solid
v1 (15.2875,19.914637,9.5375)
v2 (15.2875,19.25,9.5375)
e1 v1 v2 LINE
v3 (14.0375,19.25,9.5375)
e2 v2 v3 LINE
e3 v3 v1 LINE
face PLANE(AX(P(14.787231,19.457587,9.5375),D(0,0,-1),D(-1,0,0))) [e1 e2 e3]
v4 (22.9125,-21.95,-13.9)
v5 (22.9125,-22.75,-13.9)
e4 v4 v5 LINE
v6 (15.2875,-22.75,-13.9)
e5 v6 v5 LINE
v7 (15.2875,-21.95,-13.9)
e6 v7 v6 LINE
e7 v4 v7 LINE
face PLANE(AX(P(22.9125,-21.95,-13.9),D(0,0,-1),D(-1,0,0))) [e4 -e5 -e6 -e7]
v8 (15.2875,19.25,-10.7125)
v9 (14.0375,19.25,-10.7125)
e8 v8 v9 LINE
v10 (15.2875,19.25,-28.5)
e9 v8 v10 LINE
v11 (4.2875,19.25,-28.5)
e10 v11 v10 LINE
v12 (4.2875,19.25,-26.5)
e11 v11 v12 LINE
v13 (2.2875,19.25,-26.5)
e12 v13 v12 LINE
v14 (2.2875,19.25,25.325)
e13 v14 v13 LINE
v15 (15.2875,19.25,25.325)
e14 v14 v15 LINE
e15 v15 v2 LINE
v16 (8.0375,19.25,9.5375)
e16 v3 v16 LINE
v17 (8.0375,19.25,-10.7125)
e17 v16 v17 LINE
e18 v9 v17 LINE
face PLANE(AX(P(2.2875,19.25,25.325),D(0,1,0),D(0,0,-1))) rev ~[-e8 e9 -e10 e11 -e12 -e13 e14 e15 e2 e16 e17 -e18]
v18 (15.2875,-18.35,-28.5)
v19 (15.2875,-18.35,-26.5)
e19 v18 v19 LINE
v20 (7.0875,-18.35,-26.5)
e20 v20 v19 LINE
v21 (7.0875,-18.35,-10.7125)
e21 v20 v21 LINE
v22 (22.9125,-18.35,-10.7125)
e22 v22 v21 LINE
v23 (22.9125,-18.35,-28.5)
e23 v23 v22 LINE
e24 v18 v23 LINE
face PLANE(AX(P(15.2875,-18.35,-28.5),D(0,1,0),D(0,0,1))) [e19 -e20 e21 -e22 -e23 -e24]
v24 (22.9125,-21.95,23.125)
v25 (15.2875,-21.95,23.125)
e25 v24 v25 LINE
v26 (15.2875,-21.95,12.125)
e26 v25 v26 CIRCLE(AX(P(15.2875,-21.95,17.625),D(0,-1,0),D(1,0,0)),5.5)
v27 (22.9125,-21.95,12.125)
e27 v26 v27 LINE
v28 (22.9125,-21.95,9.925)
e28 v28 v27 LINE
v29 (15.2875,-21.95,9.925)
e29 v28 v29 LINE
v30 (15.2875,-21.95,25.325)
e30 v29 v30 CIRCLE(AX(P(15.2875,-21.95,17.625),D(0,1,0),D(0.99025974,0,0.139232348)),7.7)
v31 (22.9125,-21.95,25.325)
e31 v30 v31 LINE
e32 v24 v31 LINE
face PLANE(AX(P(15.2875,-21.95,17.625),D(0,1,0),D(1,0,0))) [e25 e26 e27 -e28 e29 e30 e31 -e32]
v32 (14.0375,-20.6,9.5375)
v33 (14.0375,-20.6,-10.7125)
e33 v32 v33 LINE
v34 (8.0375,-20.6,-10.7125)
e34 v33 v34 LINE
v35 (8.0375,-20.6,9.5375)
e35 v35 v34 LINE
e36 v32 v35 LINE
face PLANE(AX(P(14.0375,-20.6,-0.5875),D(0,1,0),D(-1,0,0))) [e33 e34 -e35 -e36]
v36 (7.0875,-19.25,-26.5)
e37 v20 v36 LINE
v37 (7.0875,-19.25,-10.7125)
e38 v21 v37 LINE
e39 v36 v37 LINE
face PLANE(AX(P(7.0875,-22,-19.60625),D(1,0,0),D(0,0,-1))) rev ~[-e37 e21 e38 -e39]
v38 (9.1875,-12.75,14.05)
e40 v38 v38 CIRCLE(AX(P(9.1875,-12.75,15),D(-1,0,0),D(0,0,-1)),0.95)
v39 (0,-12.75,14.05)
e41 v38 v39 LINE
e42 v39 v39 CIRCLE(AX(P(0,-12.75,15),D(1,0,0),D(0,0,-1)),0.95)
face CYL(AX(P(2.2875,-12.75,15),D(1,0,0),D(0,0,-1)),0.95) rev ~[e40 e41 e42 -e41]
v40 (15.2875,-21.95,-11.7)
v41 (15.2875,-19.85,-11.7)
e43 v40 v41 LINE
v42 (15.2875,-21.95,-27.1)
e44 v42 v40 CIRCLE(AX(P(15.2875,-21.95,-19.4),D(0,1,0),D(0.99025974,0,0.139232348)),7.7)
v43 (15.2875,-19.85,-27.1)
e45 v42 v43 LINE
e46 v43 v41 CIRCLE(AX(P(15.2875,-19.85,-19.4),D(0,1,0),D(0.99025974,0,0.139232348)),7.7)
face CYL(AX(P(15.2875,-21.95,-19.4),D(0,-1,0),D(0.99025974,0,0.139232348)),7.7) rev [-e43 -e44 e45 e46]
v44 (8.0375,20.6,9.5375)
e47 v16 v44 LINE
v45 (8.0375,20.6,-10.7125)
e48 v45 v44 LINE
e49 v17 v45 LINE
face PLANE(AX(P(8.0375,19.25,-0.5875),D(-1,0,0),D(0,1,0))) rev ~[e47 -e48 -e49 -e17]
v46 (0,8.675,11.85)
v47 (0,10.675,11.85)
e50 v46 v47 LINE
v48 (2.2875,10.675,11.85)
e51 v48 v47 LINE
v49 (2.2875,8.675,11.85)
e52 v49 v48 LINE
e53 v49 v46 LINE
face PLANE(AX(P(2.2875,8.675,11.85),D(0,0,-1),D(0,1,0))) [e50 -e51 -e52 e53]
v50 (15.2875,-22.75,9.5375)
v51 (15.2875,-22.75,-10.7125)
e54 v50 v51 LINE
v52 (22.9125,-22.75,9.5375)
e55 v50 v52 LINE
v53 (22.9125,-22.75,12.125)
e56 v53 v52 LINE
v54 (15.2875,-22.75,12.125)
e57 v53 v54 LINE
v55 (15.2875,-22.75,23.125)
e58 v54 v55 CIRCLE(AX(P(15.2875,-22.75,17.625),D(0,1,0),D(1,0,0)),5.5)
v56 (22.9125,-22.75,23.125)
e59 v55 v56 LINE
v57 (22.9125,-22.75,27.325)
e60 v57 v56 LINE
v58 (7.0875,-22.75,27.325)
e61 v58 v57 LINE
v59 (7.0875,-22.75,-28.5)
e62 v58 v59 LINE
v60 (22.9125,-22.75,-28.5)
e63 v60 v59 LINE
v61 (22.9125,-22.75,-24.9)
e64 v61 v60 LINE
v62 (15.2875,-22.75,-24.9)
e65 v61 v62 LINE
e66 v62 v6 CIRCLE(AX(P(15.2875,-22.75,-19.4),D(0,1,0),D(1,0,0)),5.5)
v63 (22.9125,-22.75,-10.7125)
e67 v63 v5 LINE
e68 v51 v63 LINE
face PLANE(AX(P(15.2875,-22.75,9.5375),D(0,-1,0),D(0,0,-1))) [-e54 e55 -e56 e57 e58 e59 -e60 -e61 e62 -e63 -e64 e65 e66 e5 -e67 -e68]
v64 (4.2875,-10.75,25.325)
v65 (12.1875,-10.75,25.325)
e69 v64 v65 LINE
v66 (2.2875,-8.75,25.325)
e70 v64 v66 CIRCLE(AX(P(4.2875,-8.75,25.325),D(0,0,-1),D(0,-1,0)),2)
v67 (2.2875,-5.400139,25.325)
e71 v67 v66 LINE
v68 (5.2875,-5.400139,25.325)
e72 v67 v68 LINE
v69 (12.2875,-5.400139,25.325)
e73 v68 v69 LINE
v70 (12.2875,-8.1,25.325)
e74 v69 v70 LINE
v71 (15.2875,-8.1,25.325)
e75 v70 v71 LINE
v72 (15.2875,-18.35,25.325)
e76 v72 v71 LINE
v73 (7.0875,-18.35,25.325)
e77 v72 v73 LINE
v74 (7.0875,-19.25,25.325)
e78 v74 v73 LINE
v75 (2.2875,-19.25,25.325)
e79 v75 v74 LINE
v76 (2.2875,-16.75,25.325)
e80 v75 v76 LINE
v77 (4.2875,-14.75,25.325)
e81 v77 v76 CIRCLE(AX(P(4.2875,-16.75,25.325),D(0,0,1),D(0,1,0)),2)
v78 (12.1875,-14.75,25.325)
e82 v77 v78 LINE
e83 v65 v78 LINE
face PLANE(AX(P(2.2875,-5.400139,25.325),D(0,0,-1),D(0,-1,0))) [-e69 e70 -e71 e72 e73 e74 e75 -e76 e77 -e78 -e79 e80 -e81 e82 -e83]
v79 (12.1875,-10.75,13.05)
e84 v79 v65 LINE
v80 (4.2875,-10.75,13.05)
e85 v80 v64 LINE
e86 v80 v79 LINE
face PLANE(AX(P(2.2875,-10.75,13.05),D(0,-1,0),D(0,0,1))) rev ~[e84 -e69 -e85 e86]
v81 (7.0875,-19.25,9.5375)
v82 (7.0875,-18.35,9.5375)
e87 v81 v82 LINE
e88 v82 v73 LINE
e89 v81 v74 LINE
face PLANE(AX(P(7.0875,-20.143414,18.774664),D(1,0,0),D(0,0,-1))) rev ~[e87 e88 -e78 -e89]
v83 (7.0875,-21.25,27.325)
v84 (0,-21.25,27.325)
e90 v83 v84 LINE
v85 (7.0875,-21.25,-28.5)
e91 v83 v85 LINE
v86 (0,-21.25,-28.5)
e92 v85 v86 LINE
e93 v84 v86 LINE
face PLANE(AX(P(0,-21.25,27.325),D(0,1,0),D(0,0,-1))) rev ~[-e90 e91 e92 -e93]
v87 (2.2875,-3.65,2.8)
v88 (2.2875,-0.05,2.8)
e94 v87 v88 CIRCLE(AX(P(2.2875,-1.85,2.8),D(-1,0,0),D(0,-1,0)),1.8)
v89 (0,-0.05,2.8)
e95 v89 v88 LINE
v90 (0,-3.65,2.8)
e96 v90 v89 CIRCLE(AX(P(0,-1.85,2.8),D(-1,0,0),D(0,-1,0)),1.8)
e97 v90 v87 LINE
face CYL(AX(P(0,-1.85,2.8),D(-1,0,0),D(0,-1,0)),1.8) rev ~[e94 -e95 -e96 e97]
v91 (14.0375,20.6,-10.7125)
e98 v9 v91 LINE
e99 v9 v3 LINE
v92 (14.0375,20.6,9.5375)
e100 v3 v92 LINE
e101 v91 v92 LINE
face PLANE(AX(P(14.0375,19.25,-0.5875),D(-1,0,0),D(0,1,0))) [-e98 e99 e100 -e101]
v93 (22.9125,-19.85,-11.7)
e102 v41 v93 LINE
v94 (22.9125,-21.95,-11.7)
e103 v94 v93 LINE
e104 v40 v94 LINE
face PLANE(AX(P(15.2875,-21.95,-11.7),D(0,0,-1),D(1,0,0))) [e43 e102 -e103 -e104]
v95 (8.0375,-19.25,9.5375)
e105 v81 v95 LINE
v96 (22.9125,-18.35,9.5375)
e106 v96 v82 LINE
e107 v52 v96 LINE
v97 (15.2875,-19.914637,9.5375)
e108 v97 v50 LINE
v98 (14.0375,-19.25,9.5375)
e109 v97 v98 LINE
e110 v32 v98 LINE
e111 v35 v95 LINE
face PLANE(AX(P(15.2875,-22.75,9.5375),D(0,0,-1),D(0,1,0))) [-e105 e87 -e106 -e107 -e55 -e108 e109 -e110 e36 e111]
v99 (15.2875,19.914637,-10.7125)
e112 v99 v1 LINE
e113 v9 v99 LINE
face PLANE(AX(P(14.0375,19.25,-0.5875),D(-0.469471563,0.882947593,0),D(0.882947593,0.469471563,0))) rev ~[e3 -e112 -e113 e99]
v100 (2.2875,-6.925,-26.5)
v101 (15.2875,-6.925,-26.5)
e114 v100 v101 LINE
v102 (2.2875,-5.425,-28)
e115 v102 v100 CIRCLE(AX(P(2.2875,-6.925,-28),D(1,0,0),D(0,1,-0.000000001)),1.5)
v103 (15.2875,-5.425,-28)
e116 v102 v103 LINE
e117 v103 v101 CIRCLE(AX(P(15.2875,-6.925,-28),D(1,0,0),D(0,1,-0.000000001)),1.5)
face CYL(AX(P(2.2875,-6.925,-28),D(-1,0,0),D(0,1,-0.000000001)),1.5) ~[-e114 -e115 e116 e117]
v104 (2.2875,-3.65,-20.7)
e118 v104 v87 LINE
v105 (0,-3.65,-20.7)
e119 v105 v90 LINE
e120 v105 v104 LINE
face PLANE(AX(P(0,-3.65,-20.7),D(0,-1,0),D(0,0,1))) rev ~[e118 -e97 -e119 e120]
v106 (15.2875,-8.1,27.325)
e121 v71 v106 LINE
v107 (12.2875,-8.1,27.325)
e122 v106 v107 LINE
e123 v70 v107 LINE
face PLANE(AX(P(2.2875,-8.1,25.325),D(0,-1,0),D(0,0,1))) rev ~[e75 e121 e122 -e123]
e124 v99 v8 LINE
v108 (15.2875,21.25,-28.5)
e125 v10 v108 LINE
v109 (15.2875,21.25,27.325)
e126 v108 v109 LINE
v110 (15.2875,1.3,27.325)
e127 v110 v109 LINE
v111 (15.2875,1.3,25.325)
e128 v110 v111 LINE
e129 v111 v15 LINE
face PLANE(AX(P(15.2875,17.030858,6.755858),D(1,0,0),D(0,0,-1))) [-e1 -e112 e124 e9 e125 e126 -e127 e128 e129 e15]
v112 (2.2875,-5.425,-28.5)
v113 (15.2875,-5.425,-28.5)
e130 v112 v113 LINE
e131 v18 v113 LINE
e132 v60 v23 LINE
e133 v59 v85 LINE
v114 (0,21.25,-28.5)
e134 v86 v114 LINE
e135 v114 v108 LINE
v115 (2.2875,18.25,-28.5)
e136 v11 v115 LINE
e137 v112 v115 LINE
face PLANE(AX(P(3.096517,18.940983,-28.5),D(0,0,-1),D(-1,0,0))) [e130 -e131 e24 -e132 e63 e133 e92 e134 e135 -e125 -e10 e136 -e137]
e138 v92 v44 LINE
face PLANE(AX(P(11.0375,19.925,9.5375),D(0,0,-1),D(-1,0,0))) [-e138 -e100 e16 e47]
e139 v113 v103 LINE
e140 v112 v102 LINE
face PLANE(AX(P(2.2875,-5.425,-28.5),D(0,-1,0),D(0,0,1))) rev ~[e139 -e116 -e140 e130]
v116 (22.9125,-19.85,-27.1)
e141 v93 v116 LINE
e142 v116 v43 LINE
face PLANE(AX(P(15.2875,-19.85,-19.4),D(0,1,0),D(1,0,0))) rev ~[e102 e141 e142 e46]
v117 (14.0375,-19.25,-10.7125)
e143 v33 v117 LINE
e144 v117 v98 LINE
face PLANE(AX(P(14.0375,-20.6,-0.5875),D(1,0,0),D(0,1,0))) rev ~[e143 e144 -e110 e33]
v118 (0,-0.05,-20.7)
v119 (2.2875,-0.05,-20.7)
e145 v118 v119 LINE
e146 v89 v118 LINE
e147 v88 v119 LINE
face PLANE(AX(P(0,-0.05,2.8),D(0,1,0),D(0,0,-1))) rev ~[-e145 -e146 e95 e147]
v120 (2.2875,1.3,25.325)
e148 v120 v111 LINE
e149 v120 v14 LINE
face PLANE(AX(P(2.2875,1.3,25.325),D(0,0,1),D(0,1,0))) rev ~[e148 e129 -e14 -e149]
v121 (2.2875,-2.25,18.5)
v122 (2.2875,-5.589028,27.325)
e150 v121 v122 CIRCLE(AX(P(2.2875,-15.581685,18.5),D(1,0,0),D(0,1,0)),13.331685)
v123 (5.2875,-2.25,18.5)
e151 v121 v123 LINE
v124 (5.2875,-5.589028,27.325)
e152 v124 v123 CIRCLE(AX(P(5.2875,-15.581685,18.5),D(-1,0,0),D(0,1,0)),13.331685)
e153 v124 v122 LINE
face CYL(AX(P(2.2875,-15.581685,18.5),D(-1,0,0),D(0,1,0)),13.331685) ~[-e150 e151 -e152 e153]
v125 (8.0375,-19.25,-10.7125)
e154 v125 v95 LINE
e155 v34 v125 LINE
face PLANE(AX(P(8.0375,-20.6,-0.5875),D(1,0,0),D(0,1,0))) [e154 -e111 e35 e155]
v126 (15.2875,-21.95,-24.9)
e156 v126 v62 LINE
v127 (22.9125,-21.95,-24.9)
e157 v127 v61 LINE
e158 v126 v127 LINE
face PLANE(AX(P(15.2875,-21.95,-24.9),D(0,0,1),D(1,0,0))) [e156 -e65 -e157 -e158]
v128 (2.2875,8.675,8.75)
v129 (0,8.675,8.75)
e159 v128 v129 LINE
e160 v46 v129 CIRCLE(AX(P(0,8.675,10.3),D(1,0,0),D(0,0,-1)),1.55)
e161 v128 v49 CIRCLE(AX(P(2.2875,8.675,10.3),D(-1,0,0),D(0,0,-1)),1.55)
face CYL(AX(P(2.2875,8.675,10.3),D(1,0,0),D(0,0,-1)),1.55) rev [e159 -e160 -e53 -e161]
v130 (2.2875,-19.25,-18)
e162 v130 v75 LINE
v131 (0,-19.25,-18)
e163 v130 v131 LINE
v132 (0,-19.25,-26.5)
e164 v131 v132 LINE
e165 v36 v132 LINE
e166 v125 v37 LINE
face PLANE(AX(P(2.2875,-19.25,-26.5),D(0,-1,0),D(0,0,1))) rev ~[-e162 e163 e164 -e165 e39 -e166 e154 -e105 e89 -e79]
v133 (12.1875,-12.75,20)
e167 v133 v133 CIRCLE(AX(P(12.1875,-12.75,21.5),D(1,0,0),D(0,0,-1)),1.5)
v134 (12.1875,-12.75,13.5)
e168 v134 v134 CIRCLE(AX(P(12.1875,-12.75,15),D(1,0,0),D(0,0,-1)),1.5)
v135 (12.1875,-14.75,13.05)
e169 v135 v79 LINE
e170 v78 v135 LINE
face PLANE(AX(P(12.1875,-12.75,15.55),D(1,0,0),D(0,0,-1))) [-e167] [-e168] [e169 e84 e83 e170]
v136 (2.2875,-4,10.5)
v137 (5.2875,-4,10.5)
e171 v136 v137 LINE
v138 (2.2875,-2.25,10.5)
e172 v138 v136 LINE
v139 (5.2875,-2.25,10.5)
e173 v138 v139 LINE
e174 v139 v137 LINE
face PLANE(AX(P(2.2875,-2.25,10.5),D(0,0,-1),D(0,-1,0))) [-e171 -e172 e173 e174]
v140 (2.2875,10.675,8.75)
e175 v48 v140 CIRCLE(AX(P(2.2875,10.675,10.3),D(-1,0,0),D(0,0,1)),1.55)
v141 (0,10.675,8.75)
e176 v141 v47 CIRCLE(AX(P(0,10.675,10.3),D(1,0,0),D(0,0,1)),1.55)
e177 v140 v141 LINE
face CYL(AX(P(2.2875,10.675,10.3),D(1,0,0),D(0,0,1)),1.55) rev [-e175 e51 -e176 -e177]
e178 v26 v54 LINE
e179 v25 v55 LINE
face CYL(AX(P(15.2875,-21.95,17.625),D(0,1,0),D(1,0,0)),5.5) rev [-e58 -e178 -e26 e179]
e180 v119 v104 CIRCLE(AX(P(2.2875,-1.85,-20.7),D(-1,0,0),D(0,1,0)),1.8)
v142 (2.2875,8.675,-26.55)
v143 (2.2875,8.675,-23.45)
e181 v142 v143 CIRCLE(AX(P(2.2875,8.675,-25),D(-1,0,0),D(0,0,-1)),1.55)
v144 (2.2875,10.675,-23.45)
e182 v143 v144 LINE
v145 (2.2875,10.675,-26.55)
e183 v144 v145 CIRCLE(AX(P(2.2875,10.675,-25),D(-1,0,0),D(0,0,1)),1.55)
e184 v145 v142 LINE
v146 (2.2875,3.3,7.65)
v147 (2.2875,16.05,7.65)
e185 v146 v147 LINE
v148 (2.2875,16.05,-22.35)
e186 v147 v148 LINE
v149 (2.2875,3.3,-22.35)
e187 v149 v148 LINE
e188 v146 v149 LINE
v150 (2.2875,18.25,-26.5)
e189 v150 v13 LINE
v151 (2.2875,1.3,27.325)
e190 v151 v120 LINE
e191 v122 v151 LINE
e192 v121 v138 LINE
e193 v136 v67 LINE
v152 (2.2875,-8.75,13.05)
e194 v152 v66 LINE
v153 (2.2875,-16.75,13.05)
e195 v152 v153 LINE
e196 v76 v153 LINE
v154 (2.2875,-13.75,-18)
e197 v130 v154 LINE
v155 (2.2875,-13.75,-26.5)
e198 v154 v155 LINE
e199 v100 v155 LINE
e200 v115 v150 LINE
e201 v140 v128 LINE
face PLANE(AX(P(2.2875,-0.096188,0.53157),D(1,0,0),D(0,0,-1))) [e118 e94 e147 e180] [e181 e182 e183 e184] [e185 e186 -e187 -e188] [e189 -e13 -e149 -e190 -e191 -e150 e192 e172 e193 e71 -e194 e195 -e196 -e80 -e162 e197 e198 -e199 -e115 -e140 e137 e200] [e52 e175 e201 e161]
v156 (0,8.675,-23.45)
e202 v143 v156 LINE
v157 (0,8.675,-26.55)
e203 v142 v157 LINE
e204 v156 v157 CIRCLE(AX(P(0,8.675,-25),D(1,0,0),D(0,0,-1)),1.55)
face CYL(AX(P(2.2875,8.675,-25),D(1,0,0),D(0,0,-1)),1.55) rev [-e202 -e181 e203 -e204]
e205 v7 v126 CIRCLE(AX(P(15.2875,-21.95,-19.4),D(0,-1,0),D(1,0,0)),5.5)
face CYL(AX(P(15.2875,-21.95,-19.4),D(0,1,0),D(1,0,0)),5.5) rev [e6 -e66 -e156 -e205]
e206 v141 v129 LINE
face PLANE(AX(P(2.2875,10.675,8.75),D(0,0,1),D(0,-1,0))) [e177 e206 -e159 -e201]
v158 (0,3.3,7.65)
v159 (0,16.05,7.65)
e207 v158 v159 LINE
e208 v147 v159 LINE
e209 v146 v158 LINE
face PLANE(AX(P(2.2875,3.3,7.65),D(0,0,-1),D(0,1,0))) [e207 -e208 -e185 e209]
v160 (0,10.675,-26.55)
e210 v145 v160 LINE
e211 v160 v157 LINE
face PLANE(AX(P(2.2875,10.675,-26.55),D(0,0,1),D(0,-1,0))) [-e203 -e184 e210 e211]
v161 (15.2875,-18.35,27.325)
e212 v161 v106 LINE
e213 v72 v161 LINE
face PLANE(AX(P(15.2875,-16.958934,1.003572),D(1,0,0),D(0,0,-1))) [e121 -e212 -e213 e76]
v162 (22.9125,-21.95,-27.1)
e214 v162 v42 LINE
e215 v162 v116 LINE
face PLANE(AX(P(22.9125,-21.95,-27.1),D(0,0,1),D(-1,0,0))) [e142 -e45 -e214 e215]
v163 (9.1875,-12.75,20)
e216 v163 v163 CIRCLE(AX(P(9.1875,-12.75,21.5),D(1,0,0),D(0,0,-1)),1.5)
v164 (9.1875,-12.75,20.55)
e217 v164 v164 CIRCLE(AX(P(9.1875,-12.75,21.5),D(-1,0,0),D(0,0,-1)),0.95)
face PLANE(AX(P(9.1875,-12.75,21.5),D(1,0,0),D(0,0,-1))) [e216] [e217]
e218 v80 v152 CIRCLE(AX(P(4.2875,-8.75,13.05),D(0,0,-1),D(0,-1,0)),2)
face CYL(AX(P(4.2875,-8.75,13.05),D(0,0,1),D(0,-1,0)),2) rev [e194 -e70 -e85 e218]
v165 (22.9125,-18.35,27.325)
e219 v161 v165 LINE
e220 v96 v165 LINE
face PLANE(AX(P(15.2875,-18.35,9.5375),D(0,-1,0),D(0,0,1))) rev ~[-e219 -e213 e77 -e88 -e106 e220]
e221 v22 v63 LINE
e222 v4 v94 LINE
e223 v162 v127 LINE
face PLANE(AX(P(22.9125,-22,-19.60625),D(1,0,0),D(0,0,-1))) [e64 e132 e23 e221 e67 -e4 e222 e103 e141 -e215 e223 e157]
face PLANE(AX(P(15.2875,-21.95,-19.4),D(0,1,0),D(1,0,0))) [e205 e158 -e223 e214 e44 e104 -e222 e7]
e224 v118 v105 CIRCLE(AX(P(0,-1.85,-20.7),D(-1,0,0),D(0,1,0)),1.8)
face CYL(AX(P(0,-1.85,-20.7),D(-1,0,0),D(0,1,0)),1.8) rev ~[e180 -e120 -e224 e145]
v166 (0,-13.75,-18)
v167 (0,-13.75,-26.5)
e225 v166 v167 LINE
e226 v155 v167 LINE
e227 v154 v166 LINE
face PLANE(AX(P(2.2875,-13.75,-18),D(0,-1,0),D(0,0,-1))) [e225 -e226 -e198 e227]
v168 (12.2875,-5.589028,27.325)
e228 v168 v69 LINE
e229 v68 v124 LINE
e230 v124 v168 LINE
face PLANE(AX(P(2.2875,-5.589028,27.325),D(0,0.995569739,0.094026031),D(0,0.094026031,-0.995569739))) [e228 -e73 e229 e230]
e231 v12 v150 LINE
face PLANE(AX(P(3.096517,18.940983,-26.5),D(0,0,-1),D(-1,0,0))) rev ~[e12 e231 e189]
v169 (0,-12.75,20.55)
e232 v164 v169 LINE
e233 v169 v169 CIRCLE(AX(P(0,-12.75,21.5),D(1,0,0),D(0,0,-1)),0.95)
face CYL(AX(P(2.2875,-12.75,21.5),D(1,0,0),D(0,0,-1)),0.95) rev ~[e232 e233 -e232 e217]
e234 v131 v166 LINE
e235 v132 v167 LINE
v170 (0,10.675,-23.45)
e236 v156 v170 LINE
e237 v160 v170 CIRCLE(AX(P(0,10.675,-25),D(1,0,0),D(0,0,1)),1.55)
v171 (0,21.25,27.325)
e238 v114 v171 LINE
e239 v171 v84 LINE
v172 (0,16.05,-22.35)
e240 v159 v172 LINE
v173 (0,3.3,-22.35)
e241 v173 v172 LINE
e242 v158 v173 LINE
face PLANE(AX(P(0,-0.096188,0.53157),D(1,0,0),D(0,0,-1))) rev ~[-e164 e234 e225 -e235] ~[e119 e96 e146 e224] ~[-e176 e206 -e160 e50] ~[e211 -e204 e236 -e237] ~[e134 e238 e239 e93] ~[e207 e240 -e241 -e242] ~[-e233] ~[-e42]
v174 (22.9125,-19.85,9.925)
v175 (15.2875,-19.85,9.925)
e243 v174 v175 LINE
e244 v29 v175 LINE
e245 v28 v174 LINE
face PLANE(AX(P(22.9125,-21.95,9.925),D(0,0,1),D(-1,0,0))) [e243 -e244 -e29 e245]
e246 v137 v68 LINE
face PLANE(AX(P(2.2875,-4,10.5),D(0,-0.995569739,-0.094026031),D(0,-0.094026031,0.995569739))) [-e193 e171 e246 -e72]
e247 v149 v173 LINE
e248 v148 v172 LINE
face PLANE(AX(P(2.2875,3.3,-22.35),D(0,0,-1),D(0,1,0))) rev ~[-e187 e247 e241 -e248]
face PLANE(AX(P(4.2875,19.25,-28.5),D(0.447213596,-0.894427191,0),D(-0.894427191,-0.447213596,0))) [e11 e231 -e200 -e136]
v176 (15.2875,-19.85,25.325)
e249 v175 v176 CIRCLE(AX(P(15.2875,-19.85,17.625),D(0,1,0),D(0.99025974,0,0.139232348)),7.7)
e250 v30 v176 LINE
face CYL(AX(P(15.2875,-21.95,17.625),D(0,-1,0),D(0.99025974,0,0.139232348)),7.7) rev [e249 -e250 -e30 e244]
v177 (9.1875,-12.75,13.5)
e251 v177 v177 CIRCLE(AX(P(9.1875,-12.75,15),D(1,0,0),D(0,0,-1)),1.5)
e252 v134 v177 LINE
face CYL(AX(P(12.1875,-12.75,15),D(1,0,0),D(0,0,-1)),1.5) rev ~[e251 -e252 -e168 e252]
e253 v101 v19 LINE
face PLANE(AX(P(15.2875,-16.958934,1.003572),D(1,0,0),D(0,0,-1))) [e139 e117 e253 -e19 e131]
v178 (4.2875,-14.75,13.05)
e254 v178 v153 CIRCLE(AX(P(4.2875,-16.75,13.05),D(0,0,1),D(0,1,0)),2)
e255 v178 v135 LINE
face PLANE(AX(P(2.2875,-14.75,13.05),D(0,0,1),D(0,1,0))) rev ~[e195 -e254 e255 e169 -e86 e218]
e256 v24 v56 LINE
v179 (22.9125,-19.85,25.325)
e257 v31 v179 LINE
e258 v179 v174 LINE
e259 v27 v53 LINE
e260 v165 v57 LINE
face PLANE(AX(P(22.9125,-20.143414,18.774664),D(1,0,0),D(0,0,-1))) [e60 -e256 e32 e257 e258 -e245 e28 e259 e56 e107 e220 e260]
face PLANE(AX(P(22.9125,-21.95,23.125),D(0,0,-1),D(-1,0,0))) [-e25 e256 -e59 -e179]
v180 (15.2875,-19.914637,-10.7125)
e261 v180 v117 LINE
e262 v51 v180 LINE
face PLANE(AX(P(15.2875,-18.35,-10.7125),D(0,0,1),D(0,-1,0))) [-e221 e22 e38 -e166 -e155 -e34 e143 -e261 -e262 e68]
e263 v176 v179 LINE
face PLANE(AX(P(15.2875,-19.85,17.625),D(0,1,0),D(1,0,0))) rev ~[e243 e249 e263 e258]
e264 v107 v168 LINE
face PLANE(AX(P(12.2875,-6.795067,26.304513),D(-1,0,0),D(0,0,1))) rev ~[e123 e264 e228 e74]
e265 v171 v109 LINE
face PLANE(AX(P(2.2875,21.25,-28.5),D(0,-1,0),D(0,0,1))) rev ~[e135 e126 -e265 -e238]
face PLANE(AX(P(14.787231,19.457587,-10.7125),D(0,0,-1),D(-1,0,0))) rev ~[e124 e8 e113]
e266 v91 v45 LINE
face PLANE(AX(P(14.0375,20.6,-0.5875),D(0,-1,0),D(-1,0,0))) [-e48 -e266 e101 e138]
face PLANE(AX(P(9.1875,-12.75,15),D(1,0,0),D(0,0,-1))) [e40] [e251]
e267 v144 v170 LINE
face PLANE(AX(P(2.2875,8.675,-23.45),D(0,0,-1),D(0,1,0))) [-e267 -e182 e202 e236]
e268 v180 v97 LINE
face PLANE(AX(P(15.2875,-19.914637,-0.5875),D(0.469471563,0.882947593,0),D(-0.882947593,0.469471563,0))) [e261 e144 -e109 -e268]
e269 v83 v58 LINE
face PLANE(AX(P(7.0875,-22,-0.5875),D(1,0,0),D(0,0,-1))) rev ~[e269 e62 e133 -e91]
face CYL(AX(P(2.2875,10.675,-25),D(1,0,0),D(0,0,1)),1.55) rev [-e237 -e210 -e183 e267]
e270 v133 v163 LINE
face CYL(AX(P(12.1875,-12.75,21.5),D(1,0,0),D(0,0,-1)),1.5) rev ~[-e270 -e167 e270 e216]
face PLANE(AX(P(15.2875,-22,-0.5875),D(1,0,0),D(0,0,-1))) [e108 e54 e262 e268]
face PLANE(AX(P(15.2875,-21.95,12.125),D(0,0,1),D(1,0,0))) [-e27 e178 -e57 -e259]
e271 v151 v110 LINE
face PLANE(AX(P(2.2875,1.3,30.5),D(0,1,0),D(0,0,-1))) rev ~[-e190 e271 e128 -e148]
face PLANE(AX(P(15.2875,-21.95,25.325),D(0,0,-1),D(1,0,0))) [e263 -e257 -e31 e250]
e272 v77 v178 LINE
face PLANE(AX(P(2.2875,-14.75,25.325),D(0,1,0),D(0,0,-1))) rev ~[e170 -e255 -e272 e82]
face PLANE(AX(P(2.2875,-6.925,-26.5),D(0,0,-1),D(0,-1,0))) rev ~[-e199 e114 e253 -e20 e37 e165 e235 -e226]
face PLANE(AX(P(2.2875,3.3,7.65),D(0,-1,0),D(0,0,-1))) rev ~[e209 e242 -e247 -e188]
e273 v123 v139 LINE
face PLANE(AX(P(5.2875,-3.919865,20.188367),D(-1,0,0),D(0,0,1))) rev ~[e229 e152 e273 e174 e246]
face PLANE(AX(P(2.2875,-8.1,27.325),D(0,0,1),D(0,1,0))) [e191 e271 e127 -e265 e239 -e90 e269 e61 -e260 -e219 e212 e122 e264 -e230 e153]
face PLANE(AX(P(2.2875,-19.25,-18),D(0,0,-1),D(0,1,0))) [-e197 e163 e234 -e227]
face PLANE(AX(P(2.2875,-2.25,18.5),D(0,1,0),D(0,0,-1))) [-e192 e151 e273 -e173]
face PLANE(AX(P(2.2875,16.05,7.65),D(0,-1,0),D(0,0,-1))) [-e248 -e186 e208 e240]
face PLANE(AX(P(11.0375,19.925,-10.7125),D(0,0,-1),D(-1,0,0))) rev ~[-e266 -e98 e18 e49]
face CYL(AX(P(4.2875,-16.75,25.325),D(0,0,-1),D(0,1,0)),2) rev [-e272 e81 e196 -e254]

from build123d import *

# Parameters (mm, degrees)
MAIN_EXTRUDE_DEPTH            = 2.2875
WALLS_START                   = 2.2875
WALLS_DEPTH                   = 13
CORNER_SUPPORT_DEPTH          = 2
SKETCH2_R                     = 0.95
SKETCH2_W                     = 2.4
SKETCH2_H                     = 4
SKETCH2_W_2                   = 1
SWITCH_SPACER_DEPTH           = 9.9
ARM_SUPPORT_EXTRUDE_DEPTH     = 3
ARM_SUPPORT_CURVE_DEPTH       = 40.380356778
FILLET4_R                     = 2
FILLET3_R                     = 2
SKETCH2_5_R                   = 0.95
SWITCH_MOUNT_HOLES_DEPTH      = 40.380356889
SWITCH_MOUNT_HOLES_DEPTH_BACK = 40.380356889
SKETCH35_R                    = 1.5
SWITCH_MOUNT_EXIT_HOLES_DEPTH = 3
SKETCH4_W                     = 8.5
SKETCH4_H                     = 5.5
WIRE_HOLE_DEPTH               = 40.380356889
SKETCH25_W                    = 6
SKETCH25_H                    = 1.35
FEMALE_SNAP_DEPTH             = 10.125
SKETCH5_W                     = 30
SKETCH5_H                     = 12.75
SERVO_HOLE_DEPTH              = 40.380356889
SKETCH30_W                    = 15.7875
SKETCH30_H                    = 0.9
SKETCH30_W_2                  = 17.7875
SKETCH30_H_2                  = 1.5
MAGNET_EXTRUDE_1_DEPTH        = 7.625
MAGNET_EXTRUDE_1_DEPTH_BACK   = 8.2
SKETCH30_5_W                  = 20.25
SKETCH30_5_H                  = 1.5
MAGNET_EXTRUDE_2_DEPTH        = 8.2
SKETCH29_R                    = 7.7
MAGNET_HOLE_DEPTH             = 2.1
SKETCH31_R                    = 5.5
MAGNET_THRU_HOLE_DEPTH        = 58.632218961
SKETCH39_W                    = 3.175
SKETCH39_H                    = 12.55
CUT_EXTRUDE1_DEPTH            = 45.416158798
CUT_EXTRUDE2_DEPTH            = 42.895144408
BOSS_EXTRUDE2_DEPTH           = 10


with BuildPart() as part:
    # Sketch1 → Main Extrude (new body)
    with BuildSketch(Plane(origin=(0, 0, 0), x_dir=(0, 0, -1), z_dir=(1, 0, 0))):
        Polygon((-30.5, -9.35), (-27.325, -9.35), (-27.325, -21.25), (28.5, -21.25), (28.5, 21.25), (-27.325, 21.25), (-27.325, 3.2), (-30.5, 3.2), align=None)
        with BuildLine():
            Line((20.7, -3.65), (-2.8, -3.65))
            ThreePointArc((-2.8, -3.65), (-4.6, -1.85), (-2.8, -0.05))
            Line((-2.8, -0.05), (20.7, -0.05))
            ThreePointArc((20.7, -0.05), (22.5, -1.85), (20.7, -3.65))
        make_face(mode=Mode.SUBTRACT)
    extrude(amount=MAIN_EXTRUDE_DEPTH)

    # Sketch1_3 → Walls (add)
    with BuildSketch(Plane(origin=(0, 0, 0), x_dir=(0, 0, -1), z_dir=(1, 0, 0)).offset(WALLS_START)):
        Polygon((-25.325, 19.25), (28.5, 19.25), (28.5, 21.25), (-27.325, 21.25), (-27.325, 3.2), (-30.5, 3.2), (-30.5, 1.3), (-25.325, 1.3), align=None)
        with BuildLine():
            Line((28.5, -5.425), (28, -5.425))
            ThreePointArc((28, -5.425), (26.939339828, -5.864339828), (26.5, -6.925))
            Line((26.5, -6.925), (26.5, -19.25))
            Line((26.5, -19.25), (-25.325, -19.25))
            Line((-25.325, -19.25), (-25.325, -8.1))
            Line((-25.325, -8.1), (-28.5, -8.1))
            Line((-28.5, -8.1), (-28.5, -4.45))
            Line((-28.5, -4.45), (-30.5, -4.45))
            Line((-30.5, -4.45), (-30.5, -9.35))
            Line((-30.5, -9.35), (-27.325, -9.35))
            Line((-27.325, -9.35), (-27.325, -21.25))
            Line((-27.325, -21.25), (28.5, -21.25))
            Line((28.5, -21.25), (28.5, -5.425))
        make_face()
    extrude(amount=WALLS_DEPTH)

    # Sketch22 → Corner Support (add)
    with BuildSketch(Plane(origin=(0, 0, -28.5), x_dir=(-1, 0, 0), z_dir=(0, 0, -1))):
        Polygon((-4.2875, 19.25), (-2.2875, 18.25), (-2.2875, 19.25), align=None)
    extrude(amount=-CORNER_SUPPORT_DEPTH)

    # Sketch2 → Switch Spacer (add)
    with BuildSketch(Plane(origin=(2.2875, 0, 0), x_dir=(0, 0, -1), z_dir=(1, 0, 0))):
        Polygon((-14.05, -10.75), (-17.05, -10.75), (-17.05, -14.75), (-14.05, -14.75), (-14.05, -12.75), align=None)
        with Locations((-15, -12.75)):
            Circle(SKETCH2_R, mode=Mode.SUBTRACT)
        with Locations((-15, -12.75)):
            Circle(SKETCH2_R)
        Polygon((-19.45, -10.75), (-22.45, -10.75), (-22.45, -12.75), (-22.45, -14.75), (-19.45, -14.75), align=None)
        with BuildLine():
            ThreePointArc((-20.55, -12.75), (-21.5, -13.7), (-22.45, -12.75))
            ThreePointArc((-22.45, -12.75), (-21.5, -11.8), (-20.55, -12.75))
        make_face(mode=Mode.SUBTRACT)
        with Locations((-21.5, -12.75)):
            Circle(SKETCH2_R)
        Polygon((-22.45, -12.75), (-22.45, -10.75), (-25.325, -10.75), (-25.325, -14.75), (-22.45, -14.75), align=None)
        with Locations((-18.25, -12.75)):
            Rectangle(SKETCH2_W, SKETCH2_H)
        with Locations((-13.55, -12.75)):
            Rectangle(SKETCH2_W_2, SKETCH2_H)
    extrude(amount=SWITCH_SPACER_DEPTH)

    # Sketch3 → Arm Support Extrude (add)
    with BuildSketch(Plane(origin=(2.2875, 0, 0), x_dir=(0, 0, -1), z_dir=(1, 0, 0))):
        with BuildLine():
            Line((-18.5, -2.25), (-10.5, -2.25))
            Line((-10.5, -2.25), (-10.5, -4))
            Line((-10.5, -4), (-28.5, -5.7))
            Line((-28.5, -5.7), (-30.5, -5.7))
            ThreePointArc((-30.5, -5.7), (-24.743046131, -3.129622151), (-18.5, -2.25))
        make_face()
    extrude(amount=ARM_SUPPORT_EXTRUDE_DEPTH)

    # Sketch7 → Arm Support Curve (cut, through all)
    with BuildSketch(Plane(origin=(2.2875, 0, 0), x_dir=(0, 0, -1), z_dir=(1, 0, 0))):
        with BuildLine():
            Line((-28.5, -4.583410824), (-28.5, -4.45))
            Line((-28.5, -4.45), (-30.5, -4.45))
            Line((-30.5, -4.45), (-30.5, -5.7))
            ThreePointArc((-30.5, -5.7), (-29.627655409, -5.180138898), (-28.73283292, -4.7))
            ThreePointArc((-28.73283292, -4.7), (-28.616584416, -4.641369997), (-28.5, -4.583410824))
        make_face()
    extrude(amount=ARM_SUPPORT_CURVE_DEPTH, mode=Mode.SUBTRACT)

    # Fillet4
    fillet4_edges = [part.edges().sort_by_distance(p)[0] for p in [
        (2.2875, -2.2, 30.5),
    ]]
    fillet(fillet4_edges, radius=FILLET4_R)

    # Fillet3
    fillet3_edges = [part.edges().sort_by_distance(p)[0] for p in [
        (2.2875, -14.75, 19.1875),
        (2.2875, -10.75, 19.1875),
    ]]
    fillet(fillet3_edges, radius=FILLET3_R)

    # Sketch2_5 → Switch Mount Holes (cut, two sides)
    with BuildSketch(Plane(origin=(2.2875, 0, 0), x_dir=(0, 0, -1), z_dir=(1, 0, 0))) as switch_mount_holes_sk:
        with Locations((-21.5, -12.75)):
            Circle(SKETCH2_5_R)
        with Locations((-15, -12.75)):
            Circle(SKETCH2_5_R)
    extrude(amount=SWITCH_MOUNT_HOLES_DEPTH, mode=Mode.SUBTRACT)
    extrude(switch_mount_holes_sk.sketch, amount=-SWITCH_MOUNT_HOLES_DEPTH_BACK, mode=Mode.SUBTRACT)

    # Sketch35 → Switch Mount Exit Holes (cut)
    with BuildSketch(Plane(origin=(12.1875, 0, 0), x_dir=(0, 0, -1), z_dir=(1, 0, 0))):
        with Locations((-21.5, -12.75)):
            Circle(SKETCH35_R)
        with Locations((-15, -12.75)):
            Circle(SKETCH35_R)
    extrude(amount=-SWITCH_MOUNT_EXIT_HOLES_DEPTH, mode=Mode.SUBTRACT)

    # Sketch4 → Wire Hole (cut, through all)
    with BuildSketch(Plane(origin=(2.2875, 0, 0), x_dir=(0, 0, -1), z_dir=(1, 0, 0))):
        with Locations((22.25, -16.5)):
            Rectangle(SKETCH4_W, SKETCH4_H)
    extrude(amount=-WIRE_HOLE_DEPTH, mode=Mode.SUBTRACT)

    # Sketch25 → Female Snap (cut, symmetric)
    with BuildSketch(Plane(origin=(0, 0, -0.5875), x_dir=(-1, 0, 0), z_dir=(0, 0, -1))):
        with Locations((-11.0375, -19.925)):
            Rectangle(SKETCH25_W, SKETCH25_H)
        Polygon((-15.2875, -19.25), (-15.2875, -19.91463679), (-14.0375, -19.25), align=None)
        with Locations((-11.0375, 19.925)):
            Rectangle(SKETCH25_W, SKETCH25_H)
        Polygon((-15.2875, 19.91463679), (-15.2875, 19.25), (-14.0375, 19.25), align=None)
    extrude(amount=FEMALE_SNAP_DEPTH, both=True, mode=Mode.SUBTRACT)

    # Sketch5 → Servo Hole (cut, through all)
    with BuildSketch(Plane(origin=(2.2875, 0, 0), x_dir=(0, 0, -1), z_dir=(1, 0, 0))):
        with Locations((7.35, 9.675)):
            Rectangle(SKETCH5_W, SKETCH5_H)
        with BuildLine():
            Line((-8.75, 10.675), (-8.75, 8.675))
            ThreePointArc((-8.75, 8.675), (-10.3, 7.125), (-11.85, 8.675))
            Line((-11.85, 8.675), (-11.85, 10.675))
            ThreePointArc((-11.85, 10.675), (-10.3, 12.225), (-8.75, 10.675))
        make_face()
        with BuildLine():
            Line((26.55, 10.675), (26.55, 8.675))
            ThreePointArc((26.55, 8.675), (25, 7.125), (23.45, 8.675))
            Line((23.45, 8.675), (23.45, 10.675))
            ThreePointArc((23.45, 10.675), (25, 12.225), (26.55, 10.675))
        make_face()
    extrude(amount=-SERVO_HOLE_DEPTH, mode=Mode.SUBTRACT)

    # Sketch30 → Magnet Extrude 1 (add, two sides)
    with BuildSketch(Plane(origin=(15.2875, 0, 0), x_dir=(0, 0, -1), z_dir=(1, 0, 0))) as magnet_extrude_1_sk:
        Polygon((-27.325, -18.35), (-27.325, -21.25), (-9.5375, -21.25), (-9.5375, -19.91463679), (-9.5375, -19.25), (-25.325, -19.25), (-25.325, -18.35), align=None)
        with Locations((-17.43125, -18.8)):
            Rectangle(SKETCH30_W, SKETCH30_H)
        with Locations((19.60625, -22)):
            Rectangle(SKETCH30_W_2, SKETCH30_H_2)
        Polygon((10.7125, -19.91463679), (10.7125, -21.25), (28.5, -21.25), (28.5, -18.35), (26.5, -18.35), (26.5, -19.25), (10.7125, -19.25), align=None)
        with Locations((-18.43125, -22)):
            Rectangle(SKETCH30_W_2, SKETCH30_H_2)
        with Locations((18.60625, -18.8)):
            Rectangle(SKETCH30_W, SKETCH30_H)
    extrude(amount=MAGNET_EXTRUDE_1_DEPTH)
    extrude(magnet_extrude_1_sk.sketch, amount=-MAGNET_EXTRUDE_1_DEPTH_BACK)

    # Sketch30_5 → Magnet Extrude 2 (add)
    with BuildSketch(Plane(origin=(15.2875, 0, 0), x_dir=(0, 0, -1), z_dir=(1, 0, 0))):
        with Locations((0.5875, -22)):
            Rectangle(SKETCH30_5_W, SKETCH30_5_H)
    extrude(amount=-MAGNET_EXTRUDE_2_DEPTH)

    # Sketch29 → Magnet Hole (cut)
    with BuildSketch(Plane(origin=(0, -21.95, 0), x_dir=(1, 0, 0), z_dir=(0, 1, 0))):
        with Locations((15.2875, -17.625)):
            Circle(SKETCH29_R)
        with BuildLine():
            ThreePointArc((22.9125, -18.697089082), (20.338980677, -23.436414885), (15.2875, -25.325))
            Line((15.2875, -25.325), (22.9125, -25.325))
            Line((22.9125, -25.325), (22.9125, -18.697089082))
        make_face()
        with BuildLine():
            Line((22.9125, -9.925), (15.2875, -9.925))
            ThreePointArc((15.2875, -9.925), (20.338980677, -11.813585115), (22.9125, -16.552910918))
            Line((22.9125, -16.552910918), (22.9125, -9.925))
        make_face()
        with Locations((15.2875, 19.4)):
            Circle(SKETCH29_R)
        with BuildLine():
            ThreePointArc((22.9125, 18.327910918), (20.338980677, 13.588585115), (15.2875, 11.7))
            Line((15.2875, 11.7), (22.9125, 11.7))
            Line((22.9125, 11.7), (22.9125, 18.327910918))
        make_face()
        with BuildLine():
            Line((22.9125, 27.1), (15.2875, 27.1))
            ThreePointArc((15.2875, 27.1), (20.338980677, 25.211414885), (22.9125, 20.472089082))
            Line((22.9125, 20.472089082), (22.9125, 27.1))
        make_face()
        with BuildLine():
            ThreePointArc((22.9875, -17.625), (22.968727116, -17.087645368), (22.9125, -16.552910918))
            Line((22.9125, -16.552910918), (22.9125, -18.697089082))
            ThreePointArc((22.9125, -18.697089082), (22.968727116, -18.162354632), (22.9875, -17.625))
        make_face()
        with BuildLine():
            Line((22.9125, 20.472089082), (22.9125, 18.327910918))
            ThreePointArc((22.9125, 18.327910918), (22.968727116, 18.862645368), (22.9875, 19.4))
            ThreePointArc((22.9875, 19.4), (22.968727116, 19.937354632), (22.9125, 20.472089082))
        make_face()
    extrude(amount=MAGNET_HOLE_DEPTH, mode=Mode.SUBTRACT)

    # Sketch31 → Magnet Thru Hole (cut, through all)
    with BuildSketch(Plane.XZ.offset(21.95)):
        with Locations((15.2875, 17.625)):
            Circle(SKETCH31_R)
        with BuildLine():
            Line((22.9125, 23.125), (15.2875, 23.125))
            ThreePointArc((15.2875, 23.125), (19.176587297, 21.514087297), (20.7875, 17.625))
            ThreePointArc((20.7875, 17.625), (19.176587297, 13.735912703), (15.2875, 12.125))
            Line((15.2875, 12.125), (22.9125, 12.125))
            Line((22.9125, 12.125), (22.9125, 23.125))
        make_face()
        with Locations((15.2875, -19.4)):
            Circle(SKETCH31_R)
        with BuildLine():
            Line((22.9125, -13.9), (15.2875, -13.9))
            ThreePointArc((15.2875, -13.9), (19.176587297, -15.510912703), (20.7875, -19.4))
            ThreePointArc((20.7875, -19.4), (19.176587297, -23.289087297), (15.2875, -24.9))
            Line((15.2875, -24.9), (22.9125, -24.9))
            Line((22.9125, -24.9), (22.9125, -13.9))
        make_face()
    extrude(amount=MAGNET_THRU_HOLE_DEPTH, mode=Mode.SUBTRACT)

    # Sketch39 → Cut-Extrude1 (cut, through all)
    with BuildSketch(Plane.ZY):
        with Locations((28.9125, -3.075)):
            Rectangle(SKETCH39_W, SKETCH39_H)
    extrude(amount=-CUT_EXTRUDE1_DEPTH, mode=Mode.SUBTRACT)

    # Sketch40 → Cut-Extrude2 (cut, through all)
    with BuildSketch(Plane(origin=(2.2875, 0, 0), x_dir=(0, 0, -1), z_dir=(1, 0, 0))):
        with BuildLine():
            Line((-27.325, -5.589027778), (-27.325, -4.044715402))
            ThreePointArc((-27.325, -4.044715402), (-23.002822125, -2.703224466), (-18.5, -2.25))
            ThreePointArc((-18.5, -2.25), (-23.217778383, -3.112667731), (-27.325, -5.589027778))
        make_face()
    extrude(amount=CUT_EXTRUDE2_DEPTH, mode=Mode.SUBTRACT)

    # Sketch41 → Boss-Extrude2 (add)
    with BuildSketch(Plane(origin=(2.2875, 0, 0), x_dir=(0, 0, -1), z_dir=(1, 0, 0))):
        Polygon((-25.325, -8.1), (-27.325, -8.1), (-27.325, -5.589027778), (-25.325, -5.400138889), align=None)
    extrude(amount=BOSS_EXTRUDE2_DEPTH)


solid = part.part
